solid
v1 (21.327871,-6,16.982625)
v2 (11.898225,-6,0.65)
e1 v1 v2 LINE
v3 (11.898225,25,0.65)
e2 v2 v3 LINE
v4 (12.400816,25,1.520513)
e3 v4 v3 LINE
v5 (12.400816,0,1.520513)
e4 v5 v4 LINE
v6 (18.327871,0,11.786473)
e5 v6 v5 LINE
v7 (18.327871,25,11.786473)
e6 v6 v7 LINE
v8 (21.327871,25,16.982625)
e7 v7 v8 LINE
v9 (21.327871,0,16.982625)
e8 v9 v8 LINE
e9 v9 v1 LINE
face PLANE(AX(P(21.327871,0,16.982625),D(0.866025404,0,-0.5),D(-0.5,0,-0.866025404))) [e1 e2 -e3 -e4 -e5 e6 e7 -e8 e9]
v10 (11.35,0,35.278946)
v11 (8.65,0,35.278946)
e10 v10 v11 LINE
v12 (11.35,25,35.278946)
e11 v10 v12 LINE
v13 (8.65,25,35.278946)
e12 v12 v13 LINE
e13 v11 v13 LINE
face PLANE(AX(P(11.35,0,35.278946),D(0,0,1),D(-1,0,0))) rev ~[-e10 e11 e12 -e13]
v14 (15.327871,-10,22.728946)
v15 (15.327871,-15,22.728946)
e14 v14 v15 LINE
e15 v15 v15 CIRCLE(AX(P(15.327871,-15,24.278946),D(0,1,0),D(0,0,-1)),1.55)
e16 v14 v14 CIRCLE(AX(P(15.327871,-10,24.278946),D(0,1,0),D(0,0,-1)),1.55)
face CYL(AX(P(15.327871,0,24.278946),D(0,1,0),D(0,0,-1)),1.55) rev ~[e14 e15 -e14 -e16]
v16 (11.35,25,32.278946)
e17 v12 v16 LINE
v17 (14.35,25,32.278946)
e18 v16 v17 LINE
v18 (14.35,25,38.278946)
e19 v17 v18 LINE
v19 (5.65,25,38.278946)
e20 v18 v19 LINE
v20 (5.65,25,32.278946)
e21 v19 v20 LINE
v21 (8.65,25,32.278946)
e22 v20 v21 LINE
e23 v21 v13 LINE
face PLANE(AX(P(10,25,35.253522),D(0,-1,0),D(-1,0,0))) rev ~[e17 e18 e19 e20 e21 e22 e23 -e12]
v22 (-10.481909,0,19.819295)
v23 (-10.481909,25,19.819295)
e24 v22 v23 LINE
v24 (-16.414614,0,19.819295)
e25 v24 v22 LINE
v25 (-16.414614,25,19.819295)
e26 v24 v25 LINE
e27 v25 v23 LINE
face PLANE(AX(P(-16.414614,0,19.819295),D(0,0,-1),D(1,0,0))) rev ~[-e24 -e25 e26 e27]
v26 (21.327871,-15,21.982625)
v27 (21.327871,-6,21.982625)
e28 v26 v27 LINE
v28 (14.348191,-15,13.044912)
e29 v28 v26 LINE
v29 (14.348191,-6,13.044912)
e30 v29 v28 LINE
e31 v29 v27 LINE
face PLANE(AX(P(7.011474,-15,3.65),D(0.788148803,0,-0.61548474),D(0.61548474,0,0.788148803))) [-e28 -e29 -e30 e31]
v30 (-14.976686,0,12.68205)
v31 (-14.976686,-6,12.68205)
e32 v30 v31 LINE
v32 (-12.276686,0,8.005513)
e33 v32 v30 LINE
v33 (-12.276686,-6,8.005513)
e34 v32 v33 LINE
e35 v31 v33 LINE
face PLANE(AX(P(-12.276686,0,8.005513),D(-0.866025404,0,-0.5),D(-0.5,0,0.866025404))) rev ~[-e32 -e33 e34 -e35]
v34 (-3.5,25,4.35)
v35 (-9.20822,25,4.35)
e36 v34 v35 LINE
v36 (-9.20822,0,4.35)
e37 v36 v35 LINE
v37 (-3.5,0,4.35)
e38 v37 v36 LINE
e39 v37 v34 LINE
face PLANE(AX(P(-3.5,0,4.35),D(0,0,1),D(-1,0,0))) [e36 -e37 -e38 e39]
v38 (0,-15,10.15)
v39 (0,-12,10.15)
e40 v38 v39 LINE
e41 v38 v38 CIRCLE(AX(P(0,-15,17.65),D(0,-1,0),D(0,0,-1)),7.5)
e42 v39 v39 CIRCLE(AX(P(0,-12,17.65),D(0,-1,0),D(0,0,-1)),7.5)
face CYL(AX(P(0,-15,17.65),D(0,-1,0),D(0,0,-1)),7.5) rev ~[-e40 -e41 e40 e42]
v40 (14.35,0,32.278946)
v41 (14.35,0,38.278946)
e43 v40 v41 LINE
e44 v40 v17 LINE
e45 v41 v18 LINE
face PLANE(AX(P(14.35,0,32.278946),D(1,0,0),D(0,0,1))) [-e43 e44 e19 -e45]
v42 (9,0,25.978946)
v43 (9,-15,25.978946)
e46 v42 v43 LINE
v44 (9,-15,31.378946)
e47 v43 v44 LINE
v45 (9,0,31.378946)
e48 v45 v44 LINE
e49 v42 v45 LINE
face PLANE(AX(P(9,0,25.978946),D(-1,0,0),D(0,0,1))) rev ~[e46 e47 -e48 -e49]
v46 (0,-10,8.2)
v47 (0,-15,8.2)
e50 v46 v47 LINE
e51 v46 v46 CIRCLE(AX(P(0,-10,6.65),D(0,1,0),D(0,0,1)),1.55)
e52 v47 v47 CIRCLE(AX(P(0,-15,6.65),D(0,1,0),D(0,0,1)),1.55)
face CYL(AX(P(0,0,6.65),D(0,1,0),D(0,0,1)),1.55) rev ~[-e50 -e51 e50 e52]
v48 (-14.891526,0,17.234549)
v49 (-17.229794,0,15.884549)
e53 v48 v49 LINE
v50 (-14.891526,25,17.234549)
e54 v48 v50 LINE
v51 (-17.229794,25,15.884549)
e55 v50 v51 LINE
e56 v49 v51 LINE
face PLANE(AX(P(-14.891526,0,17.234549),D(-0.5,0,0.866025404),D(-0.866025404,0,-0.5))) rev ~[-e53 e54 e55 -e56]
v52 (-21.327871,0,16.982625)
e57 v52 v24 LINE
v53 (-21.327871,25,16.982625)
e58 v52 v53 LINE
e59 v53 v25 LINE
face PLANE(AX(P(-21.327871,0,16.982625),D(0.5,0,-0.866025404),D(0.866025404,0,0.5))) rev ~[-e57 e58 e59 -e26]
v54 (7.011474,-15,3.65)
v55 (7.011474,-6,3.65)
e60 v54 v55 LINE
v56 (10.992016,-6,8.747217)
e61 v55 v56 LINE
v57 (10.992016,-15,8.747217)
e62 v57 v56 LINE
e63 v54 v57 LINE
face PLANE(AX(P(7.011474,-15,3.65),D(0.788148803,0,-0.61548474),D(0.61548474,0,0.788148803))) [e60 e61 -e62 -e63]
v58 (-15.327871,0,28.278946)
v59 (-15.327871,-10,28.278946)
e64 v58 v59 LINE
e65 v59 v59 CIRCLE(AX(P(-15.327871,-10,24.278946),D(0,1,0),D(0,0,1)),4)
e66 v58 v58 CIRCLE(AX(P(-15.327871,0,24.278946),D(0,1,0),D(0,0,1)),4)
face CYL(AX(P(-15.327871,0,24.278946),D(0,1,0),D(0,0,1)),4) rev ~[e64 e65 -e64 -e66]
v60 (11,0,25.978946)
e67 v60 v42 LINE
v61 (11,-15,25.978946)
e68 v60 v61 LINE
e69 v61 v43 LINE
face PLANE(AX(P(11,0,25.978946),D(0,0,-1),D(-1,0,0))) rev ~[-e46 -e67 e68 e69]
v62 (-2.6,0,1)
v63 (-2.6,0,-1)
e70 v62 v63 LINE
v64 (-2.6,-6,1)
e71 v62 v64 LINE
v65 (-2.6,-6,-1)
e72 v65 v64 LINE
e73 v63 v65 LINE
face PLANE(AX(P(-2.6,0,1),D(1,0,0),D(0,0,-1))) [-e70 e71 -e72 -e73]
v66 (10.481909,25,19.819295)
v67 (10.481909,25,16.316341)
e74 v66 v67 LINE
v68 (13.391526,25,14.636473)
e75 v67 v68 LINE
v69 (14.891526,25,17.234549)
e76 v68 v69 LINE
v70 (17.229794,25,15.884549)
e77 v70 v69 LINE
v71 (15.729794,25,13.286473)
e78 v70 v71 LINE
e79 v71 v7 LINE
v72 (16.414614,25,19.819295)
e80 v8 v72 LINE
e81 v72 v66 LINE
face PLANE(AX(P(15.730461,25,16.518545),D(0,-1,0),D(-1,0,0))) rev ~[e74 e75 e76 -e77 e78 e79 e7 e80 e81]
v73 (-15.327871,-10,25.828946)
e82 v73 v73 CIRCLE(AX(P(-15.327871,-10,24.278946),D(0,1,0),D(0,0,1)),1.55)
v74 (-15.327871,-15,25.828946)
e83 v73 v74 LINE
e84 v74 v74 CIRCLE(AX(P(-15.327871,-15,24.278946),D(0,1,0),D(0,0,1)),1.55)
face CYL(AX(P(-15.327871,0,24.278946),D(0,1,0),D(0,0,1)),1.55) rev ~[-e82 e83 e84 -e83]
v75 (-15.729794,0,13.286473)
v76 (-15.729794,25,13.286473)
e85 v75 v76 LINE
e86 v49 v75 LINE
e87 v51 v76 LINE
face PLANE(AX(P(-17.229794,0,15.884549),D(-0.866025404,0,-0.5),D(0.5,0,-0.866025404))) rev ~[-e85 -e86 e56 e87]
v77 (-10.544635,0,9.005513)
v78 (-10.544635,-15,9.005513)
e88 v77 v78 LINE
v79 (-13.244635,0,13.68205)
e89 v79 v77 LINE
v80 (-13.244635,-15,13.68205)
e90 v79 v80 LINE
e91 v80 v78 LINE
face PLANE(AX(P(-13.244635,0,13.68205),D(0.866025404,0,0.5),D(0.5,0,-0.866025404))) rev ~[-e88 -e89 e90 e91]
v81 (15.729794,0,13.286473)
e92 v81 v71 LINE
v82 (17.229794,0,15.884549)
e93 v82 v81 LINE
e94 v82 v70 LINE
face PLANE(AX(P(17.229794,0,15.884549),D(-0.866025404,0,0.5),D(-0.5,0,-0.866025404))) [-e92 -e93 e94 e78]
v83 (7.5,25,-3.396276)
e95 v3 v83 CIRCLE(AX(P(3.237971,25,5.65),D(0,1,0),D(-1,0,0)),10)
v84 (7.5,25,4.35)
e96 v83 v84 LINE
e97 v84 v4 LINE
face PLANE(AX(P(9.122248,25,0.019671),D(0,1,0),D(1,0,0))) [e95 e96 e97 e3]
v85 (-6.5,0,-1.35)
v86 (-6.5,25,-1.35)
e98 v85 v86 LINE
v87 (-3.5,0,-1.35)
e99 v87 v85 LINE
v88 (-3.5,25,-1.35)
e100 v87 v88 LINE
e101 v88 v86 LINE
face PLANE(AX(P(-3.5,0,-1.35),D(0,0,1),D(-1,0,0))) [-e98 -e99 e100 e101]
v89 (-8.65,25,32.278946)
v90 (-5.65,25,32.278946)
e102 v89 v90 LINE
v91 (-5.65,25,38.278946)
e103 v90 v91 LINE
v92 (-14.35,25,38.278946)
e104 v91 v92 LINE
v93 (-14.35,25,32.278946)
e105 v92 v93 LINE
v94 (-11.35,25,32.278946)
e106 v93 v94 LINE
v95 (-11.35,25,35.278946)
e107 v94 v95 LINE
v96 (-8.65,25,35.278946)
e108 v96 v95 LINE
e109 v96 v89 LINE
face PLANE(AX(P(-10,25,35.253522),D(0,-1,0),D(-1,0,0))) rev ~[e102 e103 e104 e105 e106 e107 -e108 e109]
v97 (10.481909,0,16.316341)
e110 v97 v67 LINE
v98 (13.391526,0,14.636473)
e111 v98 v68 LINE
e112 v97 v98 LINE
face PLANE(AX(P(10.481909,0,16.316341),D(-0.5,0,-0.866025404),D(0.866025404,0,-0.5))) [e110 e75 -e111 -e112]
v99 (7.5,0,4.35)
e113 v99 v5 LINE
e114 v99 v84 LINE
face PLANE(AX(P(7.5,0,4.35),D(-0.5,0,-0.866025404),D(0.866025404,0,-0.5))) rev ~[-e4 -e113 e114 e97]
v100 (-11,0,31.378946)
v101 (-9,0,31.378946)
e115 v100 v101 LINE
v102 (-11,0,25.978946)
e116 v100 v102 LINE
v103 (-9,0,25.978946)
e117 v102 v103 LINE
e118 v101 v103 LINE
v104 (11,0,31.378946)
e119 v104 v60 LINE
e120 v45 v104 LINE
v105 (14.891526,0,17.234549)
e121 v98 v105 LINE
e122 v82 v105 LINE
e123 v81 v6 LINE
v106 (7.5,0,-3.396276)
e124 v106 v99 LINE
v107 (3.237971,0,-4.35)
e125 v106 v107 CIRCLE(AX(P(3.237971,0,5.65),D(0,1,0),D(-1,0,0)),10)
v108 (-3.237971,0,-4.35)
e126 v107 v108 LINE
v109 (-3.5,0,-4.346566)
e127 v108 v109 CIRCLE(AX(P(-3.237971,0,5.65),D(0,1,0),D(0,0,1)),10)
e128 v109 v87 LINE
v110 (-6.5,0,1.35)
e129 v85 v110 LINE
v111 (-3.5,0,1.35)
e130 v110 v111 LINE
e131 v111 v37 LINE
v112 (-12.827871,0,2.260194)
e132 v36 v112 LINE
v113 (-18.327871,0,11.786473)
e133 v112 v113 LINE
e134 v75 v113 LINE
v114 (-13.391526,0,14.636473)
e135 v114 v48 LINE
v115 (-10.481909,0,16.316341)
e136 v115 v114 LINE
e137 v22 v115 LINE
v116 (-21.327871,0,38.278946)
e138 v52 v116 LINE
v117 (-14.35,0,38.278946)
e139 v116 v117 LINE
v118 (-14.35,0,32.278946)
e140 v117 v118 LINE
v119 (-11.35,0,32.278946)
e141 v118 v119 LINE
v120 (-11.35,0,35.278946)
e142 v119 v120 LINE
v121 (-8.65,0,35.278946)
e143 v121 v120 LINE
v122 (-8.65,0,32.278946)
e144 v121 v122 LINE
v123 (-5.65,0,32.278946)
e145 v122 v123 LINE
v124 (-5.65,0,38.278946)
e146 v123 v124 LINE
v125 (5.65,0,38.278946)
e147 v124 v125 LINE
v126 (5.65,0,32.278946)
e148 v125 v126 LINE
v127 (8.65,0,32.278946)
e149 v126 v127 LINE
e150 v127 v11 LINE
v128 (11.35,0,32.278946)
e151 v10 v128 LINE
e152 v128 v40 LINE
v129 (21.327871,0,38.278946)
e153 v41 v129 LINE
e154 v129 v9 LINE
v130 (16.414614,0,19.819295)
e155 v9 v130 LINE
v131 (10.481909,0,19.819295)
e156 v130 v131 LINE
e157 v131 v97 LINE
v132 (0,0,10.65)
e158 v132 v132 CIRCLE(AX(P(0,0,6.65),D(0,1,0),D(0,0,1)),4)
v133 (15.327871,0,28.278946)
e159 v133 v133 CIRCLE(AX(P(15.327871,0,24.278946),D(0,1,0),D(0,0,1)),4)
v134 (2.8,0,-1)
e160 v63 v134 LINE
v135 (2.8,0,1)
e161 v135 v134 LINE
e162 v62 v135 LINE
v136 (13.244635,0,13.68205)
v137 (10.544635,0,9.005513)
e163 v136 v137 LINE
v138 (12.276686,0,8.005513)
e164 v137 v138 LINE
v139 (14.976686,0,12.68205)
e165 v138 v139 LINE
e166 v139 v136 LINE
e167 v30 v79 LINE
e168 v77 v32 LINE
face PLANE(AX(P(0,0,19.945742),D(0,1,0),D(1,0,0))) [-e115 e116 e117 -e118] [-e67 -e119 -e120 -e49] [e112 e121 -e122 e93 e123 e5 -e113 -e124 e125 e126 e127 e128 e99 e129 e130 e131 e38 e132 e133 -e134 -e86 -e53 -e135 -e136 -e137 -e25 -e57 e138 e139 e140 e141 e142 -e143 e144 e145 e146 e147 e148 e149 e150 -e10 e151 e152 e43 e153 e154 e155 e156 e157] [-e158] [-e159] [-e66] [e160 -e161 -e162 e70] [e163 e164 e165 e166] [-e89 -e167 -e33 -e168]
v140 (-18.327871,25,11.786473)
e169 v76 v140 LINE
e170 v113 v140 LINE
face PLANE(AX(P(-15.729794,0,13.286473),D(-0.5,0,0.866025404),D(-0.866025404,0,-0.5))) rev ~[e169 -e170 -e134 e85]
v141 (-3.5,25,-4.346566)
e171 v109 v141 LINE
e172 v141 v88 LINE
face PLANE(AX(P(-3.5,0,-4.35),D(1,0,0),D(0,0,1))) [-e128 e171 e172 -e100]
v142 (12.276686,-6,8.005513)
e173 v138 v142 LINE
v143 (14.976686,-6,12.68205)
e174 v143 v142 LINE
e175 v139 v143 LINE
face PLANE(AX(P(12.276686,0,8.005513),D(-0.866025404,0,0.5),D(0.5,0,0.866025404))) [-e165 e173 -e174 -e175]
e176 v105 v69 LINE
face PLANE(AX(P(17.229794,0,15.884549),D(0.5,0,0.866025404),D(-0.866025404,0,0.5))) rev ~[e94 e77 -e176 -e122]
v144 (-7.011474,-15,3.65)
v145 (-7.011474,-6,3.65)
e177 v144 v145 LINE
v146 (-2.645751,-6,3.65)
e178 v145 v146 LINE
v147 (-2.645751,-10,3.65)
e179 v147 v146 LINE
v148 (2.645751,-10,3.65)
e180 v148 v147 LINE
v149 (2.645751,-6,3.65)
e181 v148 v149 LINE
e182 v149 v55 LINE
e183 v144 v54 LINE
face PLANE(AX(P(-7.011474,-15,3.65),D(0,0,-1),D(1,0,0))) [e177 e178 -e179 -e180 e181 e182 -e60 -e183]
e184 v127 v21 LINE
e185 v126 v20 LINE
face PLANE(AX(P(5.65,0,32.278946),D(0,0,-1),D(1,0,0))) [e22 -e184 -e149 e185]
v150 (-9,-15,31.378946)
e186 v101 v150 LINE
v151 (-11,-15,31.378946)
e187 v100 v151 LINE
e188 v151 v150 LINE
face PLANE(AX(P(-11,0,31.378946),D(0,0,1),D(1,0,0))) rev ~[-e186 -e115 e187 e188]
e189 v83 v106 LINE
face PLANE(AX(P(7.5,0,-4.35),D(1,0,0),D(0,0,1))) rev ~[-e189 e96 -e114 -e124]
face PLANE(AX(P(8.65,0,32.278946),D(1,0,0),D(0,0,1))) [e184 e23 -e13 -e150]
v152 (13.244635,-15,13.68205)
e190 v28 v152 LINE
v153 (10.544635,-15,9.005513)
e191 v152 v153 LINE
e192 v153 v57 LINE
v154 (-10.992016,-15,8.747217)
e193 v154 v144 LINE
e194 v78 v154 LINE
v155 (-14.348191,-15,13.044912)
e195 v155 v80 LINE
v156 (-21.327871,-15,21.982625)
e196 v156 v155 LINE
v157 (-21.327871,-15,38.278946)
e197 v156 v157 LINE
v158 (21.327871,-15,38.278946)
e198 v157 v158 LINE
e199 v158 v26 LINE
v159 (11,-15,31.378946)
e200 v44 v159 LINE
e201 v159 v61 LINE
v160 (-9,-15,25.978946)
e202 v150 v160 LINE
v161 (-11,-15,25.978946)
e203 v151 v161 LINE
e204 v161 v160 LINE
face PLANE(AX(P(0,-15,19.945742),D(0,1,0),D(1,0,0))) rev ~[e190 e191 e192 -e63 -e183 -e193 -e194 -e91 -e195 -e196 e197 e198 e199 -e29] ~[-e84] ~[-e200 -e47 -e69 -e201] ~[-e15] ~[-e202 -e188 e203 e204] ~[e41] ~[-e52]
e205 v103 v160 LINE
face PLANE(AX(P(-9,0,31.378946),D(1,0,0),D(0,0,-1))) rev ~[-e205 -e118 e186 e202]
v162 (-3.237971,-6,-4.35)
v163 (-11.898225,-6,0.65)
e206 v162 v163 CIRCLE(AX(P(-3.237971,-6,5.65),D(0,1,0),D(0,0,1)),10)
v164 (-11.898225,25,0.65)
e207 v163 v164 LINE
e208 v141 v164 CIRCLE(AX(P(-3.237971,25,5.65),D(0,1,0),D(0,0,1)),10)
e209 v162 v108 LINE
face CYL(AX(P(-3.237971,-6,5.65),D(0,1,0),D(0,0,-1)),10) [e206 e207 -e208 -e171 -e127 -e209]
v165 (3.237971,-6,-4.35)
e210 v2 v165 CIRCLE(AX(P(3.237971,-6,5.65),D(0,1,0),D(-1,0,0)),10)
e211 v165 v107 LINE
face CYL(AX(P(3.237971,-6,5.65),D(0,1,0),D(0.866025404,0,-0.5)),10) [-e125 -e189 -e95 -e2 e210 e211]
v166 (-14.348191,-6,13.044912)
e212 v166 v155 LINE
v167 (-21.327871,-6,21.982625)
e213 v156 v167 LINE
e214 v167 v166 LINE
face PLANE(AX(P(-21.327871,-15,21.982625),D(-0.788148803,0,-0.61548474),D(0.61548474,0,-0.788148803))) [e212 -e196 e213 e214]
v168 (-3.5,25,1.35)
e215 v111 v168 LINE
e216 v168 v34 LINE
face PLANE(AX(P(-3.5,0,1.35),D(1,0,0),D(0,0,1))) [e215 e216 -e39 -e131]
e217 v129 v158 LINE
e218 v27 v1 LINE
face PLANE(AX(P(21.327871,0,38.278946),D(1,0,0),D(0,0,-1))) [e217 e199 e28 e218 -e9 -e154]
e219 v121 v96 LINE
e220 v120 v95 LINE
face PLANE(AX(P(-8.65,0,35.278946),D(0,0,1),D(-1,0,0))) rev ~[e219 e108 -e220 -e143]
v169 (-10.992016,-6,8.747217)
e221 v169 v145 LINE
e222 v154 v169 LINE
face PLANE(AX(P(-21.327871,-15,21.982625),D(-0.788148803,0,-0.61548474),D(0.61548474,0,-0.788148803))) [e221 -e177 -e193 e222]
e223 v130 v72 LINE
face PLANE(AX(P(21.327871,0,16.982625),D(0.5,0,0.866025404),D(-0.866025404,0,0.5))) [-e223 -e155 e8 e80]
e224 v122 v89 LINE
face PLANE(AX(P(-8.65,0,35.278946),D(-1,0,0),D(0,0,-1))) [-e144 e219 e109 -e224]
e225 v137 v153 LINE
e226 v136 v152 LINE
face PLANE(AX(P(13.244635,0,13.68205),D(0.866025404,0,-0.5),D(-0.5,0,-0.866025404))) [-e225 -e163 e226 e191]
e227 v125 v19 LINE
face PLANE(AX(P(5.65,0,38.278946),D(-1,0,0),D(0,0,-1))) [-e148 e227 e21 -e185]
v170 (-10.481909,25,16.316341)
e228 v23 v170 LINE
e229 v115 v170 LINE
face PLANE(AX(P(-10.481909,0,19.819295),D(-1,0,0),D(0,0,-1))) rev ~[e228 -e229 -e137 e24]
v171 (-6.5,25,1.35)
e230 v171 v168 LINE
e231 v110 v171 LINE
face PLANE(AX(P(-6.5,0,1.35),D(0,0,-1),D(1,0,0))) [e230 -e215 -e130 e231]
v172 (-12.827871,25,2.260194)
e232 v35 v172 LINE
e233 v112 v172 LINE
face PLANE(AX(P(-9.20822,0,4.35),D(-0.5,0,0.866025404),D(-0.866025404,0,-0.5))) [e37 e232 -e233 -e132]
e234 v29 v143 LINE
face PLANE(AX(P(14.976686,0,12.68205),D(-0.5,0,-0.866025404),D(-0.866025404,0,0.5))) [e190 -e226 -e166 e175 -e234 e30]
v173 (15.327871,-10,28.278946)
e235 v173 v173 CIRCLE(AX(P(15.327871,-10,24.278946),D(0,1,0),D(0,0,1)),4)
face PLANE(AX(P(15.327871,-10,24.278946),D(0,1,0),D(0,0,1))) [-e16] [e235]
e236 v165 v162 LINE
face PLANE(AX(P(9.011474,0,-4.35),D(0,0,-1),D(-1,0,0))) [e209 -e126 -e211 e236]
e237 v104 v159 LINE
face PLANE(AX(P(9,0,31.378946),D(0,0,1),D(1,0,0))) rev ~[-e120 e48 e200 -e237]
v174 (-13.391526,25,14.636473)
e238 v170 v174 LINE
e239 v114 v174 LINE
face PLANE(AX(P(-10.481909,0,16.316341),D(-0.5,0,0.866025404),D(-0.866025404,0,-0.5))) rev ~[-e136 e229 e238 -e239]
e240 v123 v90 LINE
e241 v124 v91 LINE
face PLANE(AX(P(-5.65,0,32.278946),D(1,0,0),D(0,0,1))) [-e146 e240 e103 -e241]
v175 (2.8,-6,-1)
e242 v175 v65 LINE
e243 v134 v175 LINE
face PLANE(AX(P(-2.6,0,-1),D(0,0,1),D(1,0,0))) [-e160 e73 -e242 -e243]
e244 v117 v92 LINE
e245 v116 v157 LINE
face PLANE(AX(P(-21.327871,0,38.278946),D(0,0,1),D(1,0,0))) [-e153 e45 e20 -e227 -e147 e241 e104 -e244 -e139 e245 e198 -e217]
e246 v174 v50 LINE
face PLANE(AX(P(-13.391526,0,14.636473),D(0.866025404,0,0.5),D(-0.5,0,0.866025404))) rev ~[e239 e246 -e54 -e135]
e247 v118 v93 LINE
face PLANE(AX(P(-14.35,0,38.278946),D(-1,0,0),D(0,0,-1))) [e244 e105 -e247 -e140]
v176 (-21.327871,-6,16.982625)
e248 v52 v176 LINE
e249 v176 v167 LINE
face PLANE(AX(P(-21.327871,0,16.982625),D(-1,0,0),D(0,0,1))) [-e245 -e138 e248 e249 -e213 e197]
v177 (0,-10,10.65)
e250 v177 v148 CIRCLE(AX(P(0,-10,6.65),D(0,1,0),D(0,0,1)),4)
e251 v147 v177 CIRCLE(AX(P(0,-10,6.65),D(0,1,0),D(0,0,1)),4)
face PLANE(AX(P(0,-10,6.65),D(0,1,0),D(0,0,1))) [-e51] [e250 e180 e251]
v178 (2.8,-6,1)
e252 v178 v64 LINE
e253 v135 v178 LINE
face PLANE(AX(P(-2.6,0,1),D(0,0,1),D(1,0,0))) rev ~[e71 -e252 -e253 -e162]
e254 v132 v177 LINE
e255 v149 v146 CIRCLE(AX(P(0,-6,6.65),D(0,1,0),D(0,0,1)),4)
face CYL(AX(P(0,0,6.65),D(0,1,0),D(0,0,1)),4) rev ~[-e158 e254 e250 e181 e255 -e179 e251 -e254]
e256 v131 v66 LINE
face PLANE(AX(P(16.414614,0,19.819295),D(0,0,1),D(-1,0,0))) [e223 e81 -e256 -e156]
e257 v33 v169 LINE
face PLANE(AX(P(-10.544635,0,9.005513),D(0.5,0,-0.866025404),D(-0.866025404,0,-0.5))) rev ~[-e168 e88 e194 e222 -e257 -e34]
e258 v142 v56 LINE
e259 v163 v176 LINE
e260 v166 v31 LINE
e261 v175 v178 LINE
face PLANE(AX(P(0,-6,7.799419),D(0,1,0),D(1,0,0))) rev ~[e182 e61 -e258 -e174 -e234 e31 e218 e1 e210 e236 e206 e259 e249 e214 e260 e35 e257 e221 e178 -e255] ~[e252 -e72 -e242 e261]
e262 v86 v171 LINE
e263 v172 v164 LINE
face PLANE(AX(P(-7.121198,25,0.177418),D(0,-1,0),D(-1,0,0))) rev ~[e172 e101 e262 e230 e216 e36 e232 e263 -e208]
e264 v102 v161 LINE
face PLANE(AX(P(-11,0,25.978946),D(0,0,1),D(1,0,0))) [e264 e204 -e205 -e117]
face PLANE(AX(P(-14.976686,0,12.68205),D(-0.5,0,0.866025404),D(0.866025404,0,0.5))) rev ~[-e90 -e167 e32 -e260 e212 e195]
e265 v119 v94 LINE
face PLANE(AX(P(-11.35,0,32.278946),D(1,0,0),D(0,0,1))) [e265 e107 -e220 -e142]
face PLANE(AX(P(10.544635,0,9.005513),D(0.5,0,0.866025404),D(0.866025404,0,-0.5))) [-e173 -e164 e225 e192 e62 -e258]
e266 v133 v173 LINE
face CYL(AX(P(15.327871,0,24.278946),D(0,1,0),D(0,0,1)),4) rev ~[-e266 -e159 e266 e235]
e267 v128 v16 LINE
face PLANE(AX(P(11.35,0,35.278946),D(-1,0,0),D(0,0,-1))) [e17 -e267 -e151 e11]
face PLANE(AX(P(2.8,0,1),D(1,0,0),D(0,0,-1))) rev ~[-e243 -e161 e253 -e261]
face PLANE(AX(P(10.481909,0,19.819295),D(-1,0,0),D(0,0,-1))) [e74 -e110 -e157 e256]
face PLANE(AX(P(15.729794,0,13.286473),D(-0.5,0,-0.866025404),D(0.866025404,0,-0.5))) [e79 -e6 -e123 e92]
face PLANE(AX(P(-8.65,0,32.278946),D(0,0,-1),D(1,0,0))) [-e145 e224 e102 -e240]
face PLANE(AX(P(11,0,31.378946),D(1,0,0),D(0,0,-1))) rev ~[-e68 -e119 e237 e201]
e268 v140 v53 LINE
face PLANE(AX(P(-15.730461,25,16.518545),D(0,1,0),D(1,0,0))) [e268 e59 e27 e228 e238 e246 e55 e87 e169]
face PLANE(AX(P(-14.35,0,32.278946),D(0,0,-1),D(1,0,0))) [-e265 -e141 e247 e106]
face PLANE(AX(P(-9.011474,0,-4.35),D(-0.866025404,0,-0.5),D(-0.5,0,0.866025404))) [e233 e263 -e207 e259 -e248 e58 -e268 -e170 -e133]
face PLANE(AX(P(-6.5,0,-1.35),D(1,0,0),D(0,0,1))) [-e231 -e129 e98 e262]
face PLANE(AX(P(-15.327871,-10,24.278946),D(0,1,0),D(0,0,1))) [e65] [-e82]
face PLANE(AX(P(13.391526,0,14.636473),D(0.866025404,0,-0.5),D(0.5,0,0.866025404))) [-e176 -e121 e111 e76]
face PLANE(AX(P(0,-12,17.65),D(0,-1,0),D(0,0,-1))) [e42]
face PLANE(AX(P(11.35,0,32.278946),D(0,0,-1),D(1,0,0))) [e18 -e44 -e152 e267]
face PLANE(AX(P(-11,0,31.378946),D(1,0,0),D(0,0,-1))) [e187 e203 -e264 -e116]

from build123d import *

# Parameters (mm, degrees)
BOSS_EXTRUDE1_DEPTH   = 25
BOSS_EXTRUDE1_2_DEPTH = 25
BOSS_EXTRUDE1_3_DEPTH = 25
BOSS_EXTRUDE1_4_DEPTH = 25
BOSS_EXTRUDE1_5_DEPTH = 25
BOSS_EXTRUDE1_6_DEPTH = 25
BOSS_EXTRUDE2_DEPTH   = 15
SKETCH3_R             = 1.5499999999999976
SKETCH3_R_2           = 1.5499999999999996
SKETCH3_R_3           = 1.5499999999999958
SKETCH3_W             = 5.4
SKETCH3_H             = 2
SKETCH3_W_2           = 2
SKETCH3_H_2           = 5.400000000000006
CUT_EXTRUDE1_DEPTH    = 51.449536703397406
SKETCH4_R             = 4.000000000000001
SKETCH4_R_2           = 4
SKETCH4_R_3           = 3.9999999999999973
CUT_EXTRUDE2_DEPTH    = 10
CUT_EXTRUDE12_DEPTH   = 9
SKETCH18_R            = 7.5
CUT_EXTRUDE13_DEPTH   = 3
FILLET1_R             = 10


with BuildPart() as part:
    # Sketch1 → Boss-Extrude1 (new body)
    with BuildSketch(Plane(origin=(0, 0, 0), x_dir=(1, 0, 0), z_dir=(0, 1, 0))):
        Polygon((-3.4999999999999987, -4.3500000000000005), (-9.208219674195641, -4.350000000000002), (-12.827870678242386, -2.260193518441092), (-9.011473670974864, 4.35), (-3.499999999999964, 4.35), (-3.4999999999999636, 1.35), (-6.499999999999999, 1.3499999999999996), (-6.499999999999999, -1.3500000000000005), (-3.4999999999999987, -1.3500000000000008), align=None)
    extrude(amount=BOSS_EXTRUDE1_DEPTH)



with BuildPart() as body_2:
    # Sketch1 → Boss-Extrude1 2 (new body)
    with BuildSketch(Plane(origin=(0, 0, 0), x_dir=(1, 0, 0), z_dir=(0, 1, 0))):
        Polygon((-21.327870678242448, -16.982625382776504), (-16.414613987909505, -19.81929545553799), (-10.481908744213749, -19.819295455538416), (-10.48190874421371, -16.31634119473297), (-13.391525876671139, -14.636472960069911), (-14.891525876671151, -17.23454917142322), (-16.06066017178014, -16.559549171423214), (-17.22979446688913, -15.884549171423206), (-15.729794466888796, -13.286472960069348), (-18.327870678242103, -11.786472960069336), align=None)
    extrude(amount=BOSS_EXTRUDE1_2_DEPTH)


with BuildPart() as body_3:
    # Sketch1 → Boss-Extrude1 3 (new body)
    with BuildSketch(Plane(origin=(0, 0, 0), x_dir=(1, 0, 0), z_dir=(0, 1, 0))):
        Polygon((9.011473670974846, 4.350000000000008), (7.500000000000001, 4.35), (7.500000000000003, -4.35), (12.400815759693463, -1.5205127018921853), align=None)
    extrude(amount=BOSS_EXTRUDE1_3_DEPTH)


with BuildPart() as body_4:
    # Sketch1 → Boss-Extrude1 4 (new body)
    with BuildSketch(Plane(origin=(0, 0, 0), x_dir=(1, 0, 0), z_dir=(0, 1, 0))):
        Polygon((21.3278706782425, -16.982625382776575), (16.4146139879095, -19.819295455537993), (10.481908744213753, -19.819295455538413), (10.481908744213746, -16.316341194733052), (13.391525876671182, -14.636472960069986), (14.891525876671192, -17.234549171423296), (16.060660171780043, -16.559549171423036), (17.22979446688917, -15.884549171423286), (15.729794466888857, -13.286472960069448), (18.32787067824215, -11.78647296006941), align=None)
    extrude(amount=BOSS_EXTRUDE1_4_DEPTH)


with BuildPart() as body_5:
    # Sketch1 → Boss-Extrude1 5 (new body)
    with BuildSketch(Plane(origin=(0, 0, 0), x_dir=(1, 0, 0), z_dir=(0, 1, 0))):
        Polygon((9.999999999999996, -35.27894572633552), (11.349999999999998, -35.27894572633552), (11.349999999999998, -32.27894572633372), (14.349999999999998, -32.27894572633372), (14.349999999999998, -38.27894572633372), (5.649999999999999, -38.27894572633372), (5.649999999999998, -32.27894572633428), (8.649999999999999, -32.27894572633428), (8.649999999999999, -35.27894572633552), align=None)
    extrude(amount=BOSS_EXTRUDE1_5_DEPTH)


with BuildPart() as body_6:
    # Sketch1 → Boss-Extrude1 6 (new body)
    with BuildSketch(Plane(origin=(0, 0, 0), x_dir=(1, 0, 0), z_dir=(0, 1, 0))):
        Polygon((-5.649999999999998, -32.27894572633428), (-5.649999999999999, -38.27894572633372), (-14.349999999999998, -38.27894572633372), (-14.349999999999998, -32.27894572633372), (-11.349999999999998, -32.27894572633372), (-11.349999999999998, -35.27894572633552), (-9.999999999999996, -35.27894572633552), (-8.649999999999999, -35.27894572633552), (-8.649999999999999, -32.27894572633428), align=None)
    extrude(amount=BOSS_EXTRUDE1_6_DEPTH)


with BuildPart() as part_1:
    add(part.part)

    add(body_2.part)  # Boss-Extrude2 merges body 2

    add(body_3.part)  # Boss-Extrude2 merges body 3

    add(body_4.part)  # Boss-Extrude2 merges body 4

    add(body_5.part)  # Boss-Extrude2 merges body 5

    add(body_6.part)  # Boss-Extrude2 merges body 6
    # Sketch2 → Boss-Extrude2 (add)
    with BuildSketch(Plane(origin=(0, 0, 0), x_dir=(-1, 0, 0), z_dir=(0, -1, 0))):
        Polygon((-21.3278706782425, -16.982625382776575), (-9.011473670974844, 4.350000000000008), (9.011473670974864, 4.35), (21.327870678242448, -16.982625382776515), (21.327870678242448, -38.27894572633375), (-21.3278706782425, -38.27894572633371), align=None)
    extrude(amount=BOSS_EXTRUDE2_DEPTH)

    # Sketch3 → Cut-Extrude1 (cut, through all)
    with BuildSketch(Plane(origin=(0, 0, 0), x_dir=(1, 0, 0), z_dir=(0, 1, 0))):
        with Locations(Location((-15.327870678242446, -24.278945726333717, 0), (0, 0, 270))):
            Circle(SKETCH3_R)
        with Locations(Location((1.55e-15, -6.649999999999997, 0), (0, 0, 270))):
            Circle(SKETCH3_R_2)
        with Locations(Location((15.327870678242453, -24.278945726333713, 0), (0, 0, 90))):
            Circle(SKETCH3_R_3)
        with Locations((0.10000000000000098, 0)):
            Rectangle(SKETCH3_W, SKETCH3_H)
        Polygon((-14.976685575564561, -12.682050096663907), (-13.244634767995688, -13.682050096663914), (-10.54463476799567, -9.005512916227953), (-12.276685575564542, -8.005512916227948), align=None)
        Polygon((11.000000000000004, -25.978945726335514), (9.000000000000004, -25.978945726335514), (9.000000000000007, -31.37894572633552), (11.000000000000007, -31.37894572633552), align=None)
        with Locations((-9.999999999999996, -28.678945726335517)):
            Rectangle(SKETCH3_W_2, SKETCH3_H_2)
        Polygon((10.544634767995705, -9.005512916227941), (12.27668557556458, -8.005512916227937), (14.976685575564584, -12.682050096663904), (13.244634767995707, -13.682050096663906), align=None)
    extrude(amount=-CUT_EXTRUDE1_DEPTH, mode=Mode.SUBTRACT)

    # Sketch4 → Cut-Extrude2 (cut)
    with BuildSketch(Plane(origin=(0, 0, 0), x_dir=(1, 0, 0), z_dir=(0, 1, 0))):
        with Locations(Location((-15.327870678242446, -24.278945726333717, 0), (0, 0, 270))):
            Circle(SKETCH4_R)
        with Locations(Location((1.55e-15, -6.649999999999996, 0), (0, 0, 270))):
            Circle(SKETCH4_R_2)
        with Locations(Location((15.327870678242453, -24.278945726333713, 0), (0, 0, 270))):
            Circle(SKETCH4_R_3)
    extrude(amount=-CUT_EXTRUDE2_DEPTH, mode=Mode.SUBTRACT)

    # Sketch17 → Cut-Extrude12 (cut)
    with BuildSketch(Plane(origin=(0, -15, 0), x_dir=(-1, 0, 0), z_dir=(0, -1, 0))):
        Polygon((7.011473670974844, -3.6499999999999915), (-7.011473670974842, -3.6499999999999932), (-21.32787067824244, -21.982625382776526), (-21.32787067824244, -16.982625382776508), (-9.011473670974846, 4.350000000000003), (9.011473670974864, 4.35), (21.327870678242448, -16.982625382776515), (21.327870678242448, -21.98262538277652), align=None)
    extrude(amount=-CUT_EXTRUDE12_DEPTH, mode=Mode.SUBTRACT)

    # Sketch18 → Cut-Extrude13 (cut)
    with BuildSketch(Plane(origin=(0, -15, 0), x_dir=(-1, 0, 0), z_dir=(0, -1, 0))):
        with Locations(Location((0, -17.650000000000002, 0), (0, 0, 90))):
            Circle(SKETCH18_R)
    extrude(amount=-CUT_EXTRUDE13_DEPTH, mode=Mode.SUBTRACT)

    # Fillet1
    fillet1_edges = [part_1.edges().sort_by_distance(p)[0] for p in [
        (-9.011473670974864, 9.5, -4.35),
        (9.011473670974846, 9.5, -4.350000000000008),
    ]]
    fillet(fillet1_edges, radius=FILLET1_R)


solid = part_1.part
